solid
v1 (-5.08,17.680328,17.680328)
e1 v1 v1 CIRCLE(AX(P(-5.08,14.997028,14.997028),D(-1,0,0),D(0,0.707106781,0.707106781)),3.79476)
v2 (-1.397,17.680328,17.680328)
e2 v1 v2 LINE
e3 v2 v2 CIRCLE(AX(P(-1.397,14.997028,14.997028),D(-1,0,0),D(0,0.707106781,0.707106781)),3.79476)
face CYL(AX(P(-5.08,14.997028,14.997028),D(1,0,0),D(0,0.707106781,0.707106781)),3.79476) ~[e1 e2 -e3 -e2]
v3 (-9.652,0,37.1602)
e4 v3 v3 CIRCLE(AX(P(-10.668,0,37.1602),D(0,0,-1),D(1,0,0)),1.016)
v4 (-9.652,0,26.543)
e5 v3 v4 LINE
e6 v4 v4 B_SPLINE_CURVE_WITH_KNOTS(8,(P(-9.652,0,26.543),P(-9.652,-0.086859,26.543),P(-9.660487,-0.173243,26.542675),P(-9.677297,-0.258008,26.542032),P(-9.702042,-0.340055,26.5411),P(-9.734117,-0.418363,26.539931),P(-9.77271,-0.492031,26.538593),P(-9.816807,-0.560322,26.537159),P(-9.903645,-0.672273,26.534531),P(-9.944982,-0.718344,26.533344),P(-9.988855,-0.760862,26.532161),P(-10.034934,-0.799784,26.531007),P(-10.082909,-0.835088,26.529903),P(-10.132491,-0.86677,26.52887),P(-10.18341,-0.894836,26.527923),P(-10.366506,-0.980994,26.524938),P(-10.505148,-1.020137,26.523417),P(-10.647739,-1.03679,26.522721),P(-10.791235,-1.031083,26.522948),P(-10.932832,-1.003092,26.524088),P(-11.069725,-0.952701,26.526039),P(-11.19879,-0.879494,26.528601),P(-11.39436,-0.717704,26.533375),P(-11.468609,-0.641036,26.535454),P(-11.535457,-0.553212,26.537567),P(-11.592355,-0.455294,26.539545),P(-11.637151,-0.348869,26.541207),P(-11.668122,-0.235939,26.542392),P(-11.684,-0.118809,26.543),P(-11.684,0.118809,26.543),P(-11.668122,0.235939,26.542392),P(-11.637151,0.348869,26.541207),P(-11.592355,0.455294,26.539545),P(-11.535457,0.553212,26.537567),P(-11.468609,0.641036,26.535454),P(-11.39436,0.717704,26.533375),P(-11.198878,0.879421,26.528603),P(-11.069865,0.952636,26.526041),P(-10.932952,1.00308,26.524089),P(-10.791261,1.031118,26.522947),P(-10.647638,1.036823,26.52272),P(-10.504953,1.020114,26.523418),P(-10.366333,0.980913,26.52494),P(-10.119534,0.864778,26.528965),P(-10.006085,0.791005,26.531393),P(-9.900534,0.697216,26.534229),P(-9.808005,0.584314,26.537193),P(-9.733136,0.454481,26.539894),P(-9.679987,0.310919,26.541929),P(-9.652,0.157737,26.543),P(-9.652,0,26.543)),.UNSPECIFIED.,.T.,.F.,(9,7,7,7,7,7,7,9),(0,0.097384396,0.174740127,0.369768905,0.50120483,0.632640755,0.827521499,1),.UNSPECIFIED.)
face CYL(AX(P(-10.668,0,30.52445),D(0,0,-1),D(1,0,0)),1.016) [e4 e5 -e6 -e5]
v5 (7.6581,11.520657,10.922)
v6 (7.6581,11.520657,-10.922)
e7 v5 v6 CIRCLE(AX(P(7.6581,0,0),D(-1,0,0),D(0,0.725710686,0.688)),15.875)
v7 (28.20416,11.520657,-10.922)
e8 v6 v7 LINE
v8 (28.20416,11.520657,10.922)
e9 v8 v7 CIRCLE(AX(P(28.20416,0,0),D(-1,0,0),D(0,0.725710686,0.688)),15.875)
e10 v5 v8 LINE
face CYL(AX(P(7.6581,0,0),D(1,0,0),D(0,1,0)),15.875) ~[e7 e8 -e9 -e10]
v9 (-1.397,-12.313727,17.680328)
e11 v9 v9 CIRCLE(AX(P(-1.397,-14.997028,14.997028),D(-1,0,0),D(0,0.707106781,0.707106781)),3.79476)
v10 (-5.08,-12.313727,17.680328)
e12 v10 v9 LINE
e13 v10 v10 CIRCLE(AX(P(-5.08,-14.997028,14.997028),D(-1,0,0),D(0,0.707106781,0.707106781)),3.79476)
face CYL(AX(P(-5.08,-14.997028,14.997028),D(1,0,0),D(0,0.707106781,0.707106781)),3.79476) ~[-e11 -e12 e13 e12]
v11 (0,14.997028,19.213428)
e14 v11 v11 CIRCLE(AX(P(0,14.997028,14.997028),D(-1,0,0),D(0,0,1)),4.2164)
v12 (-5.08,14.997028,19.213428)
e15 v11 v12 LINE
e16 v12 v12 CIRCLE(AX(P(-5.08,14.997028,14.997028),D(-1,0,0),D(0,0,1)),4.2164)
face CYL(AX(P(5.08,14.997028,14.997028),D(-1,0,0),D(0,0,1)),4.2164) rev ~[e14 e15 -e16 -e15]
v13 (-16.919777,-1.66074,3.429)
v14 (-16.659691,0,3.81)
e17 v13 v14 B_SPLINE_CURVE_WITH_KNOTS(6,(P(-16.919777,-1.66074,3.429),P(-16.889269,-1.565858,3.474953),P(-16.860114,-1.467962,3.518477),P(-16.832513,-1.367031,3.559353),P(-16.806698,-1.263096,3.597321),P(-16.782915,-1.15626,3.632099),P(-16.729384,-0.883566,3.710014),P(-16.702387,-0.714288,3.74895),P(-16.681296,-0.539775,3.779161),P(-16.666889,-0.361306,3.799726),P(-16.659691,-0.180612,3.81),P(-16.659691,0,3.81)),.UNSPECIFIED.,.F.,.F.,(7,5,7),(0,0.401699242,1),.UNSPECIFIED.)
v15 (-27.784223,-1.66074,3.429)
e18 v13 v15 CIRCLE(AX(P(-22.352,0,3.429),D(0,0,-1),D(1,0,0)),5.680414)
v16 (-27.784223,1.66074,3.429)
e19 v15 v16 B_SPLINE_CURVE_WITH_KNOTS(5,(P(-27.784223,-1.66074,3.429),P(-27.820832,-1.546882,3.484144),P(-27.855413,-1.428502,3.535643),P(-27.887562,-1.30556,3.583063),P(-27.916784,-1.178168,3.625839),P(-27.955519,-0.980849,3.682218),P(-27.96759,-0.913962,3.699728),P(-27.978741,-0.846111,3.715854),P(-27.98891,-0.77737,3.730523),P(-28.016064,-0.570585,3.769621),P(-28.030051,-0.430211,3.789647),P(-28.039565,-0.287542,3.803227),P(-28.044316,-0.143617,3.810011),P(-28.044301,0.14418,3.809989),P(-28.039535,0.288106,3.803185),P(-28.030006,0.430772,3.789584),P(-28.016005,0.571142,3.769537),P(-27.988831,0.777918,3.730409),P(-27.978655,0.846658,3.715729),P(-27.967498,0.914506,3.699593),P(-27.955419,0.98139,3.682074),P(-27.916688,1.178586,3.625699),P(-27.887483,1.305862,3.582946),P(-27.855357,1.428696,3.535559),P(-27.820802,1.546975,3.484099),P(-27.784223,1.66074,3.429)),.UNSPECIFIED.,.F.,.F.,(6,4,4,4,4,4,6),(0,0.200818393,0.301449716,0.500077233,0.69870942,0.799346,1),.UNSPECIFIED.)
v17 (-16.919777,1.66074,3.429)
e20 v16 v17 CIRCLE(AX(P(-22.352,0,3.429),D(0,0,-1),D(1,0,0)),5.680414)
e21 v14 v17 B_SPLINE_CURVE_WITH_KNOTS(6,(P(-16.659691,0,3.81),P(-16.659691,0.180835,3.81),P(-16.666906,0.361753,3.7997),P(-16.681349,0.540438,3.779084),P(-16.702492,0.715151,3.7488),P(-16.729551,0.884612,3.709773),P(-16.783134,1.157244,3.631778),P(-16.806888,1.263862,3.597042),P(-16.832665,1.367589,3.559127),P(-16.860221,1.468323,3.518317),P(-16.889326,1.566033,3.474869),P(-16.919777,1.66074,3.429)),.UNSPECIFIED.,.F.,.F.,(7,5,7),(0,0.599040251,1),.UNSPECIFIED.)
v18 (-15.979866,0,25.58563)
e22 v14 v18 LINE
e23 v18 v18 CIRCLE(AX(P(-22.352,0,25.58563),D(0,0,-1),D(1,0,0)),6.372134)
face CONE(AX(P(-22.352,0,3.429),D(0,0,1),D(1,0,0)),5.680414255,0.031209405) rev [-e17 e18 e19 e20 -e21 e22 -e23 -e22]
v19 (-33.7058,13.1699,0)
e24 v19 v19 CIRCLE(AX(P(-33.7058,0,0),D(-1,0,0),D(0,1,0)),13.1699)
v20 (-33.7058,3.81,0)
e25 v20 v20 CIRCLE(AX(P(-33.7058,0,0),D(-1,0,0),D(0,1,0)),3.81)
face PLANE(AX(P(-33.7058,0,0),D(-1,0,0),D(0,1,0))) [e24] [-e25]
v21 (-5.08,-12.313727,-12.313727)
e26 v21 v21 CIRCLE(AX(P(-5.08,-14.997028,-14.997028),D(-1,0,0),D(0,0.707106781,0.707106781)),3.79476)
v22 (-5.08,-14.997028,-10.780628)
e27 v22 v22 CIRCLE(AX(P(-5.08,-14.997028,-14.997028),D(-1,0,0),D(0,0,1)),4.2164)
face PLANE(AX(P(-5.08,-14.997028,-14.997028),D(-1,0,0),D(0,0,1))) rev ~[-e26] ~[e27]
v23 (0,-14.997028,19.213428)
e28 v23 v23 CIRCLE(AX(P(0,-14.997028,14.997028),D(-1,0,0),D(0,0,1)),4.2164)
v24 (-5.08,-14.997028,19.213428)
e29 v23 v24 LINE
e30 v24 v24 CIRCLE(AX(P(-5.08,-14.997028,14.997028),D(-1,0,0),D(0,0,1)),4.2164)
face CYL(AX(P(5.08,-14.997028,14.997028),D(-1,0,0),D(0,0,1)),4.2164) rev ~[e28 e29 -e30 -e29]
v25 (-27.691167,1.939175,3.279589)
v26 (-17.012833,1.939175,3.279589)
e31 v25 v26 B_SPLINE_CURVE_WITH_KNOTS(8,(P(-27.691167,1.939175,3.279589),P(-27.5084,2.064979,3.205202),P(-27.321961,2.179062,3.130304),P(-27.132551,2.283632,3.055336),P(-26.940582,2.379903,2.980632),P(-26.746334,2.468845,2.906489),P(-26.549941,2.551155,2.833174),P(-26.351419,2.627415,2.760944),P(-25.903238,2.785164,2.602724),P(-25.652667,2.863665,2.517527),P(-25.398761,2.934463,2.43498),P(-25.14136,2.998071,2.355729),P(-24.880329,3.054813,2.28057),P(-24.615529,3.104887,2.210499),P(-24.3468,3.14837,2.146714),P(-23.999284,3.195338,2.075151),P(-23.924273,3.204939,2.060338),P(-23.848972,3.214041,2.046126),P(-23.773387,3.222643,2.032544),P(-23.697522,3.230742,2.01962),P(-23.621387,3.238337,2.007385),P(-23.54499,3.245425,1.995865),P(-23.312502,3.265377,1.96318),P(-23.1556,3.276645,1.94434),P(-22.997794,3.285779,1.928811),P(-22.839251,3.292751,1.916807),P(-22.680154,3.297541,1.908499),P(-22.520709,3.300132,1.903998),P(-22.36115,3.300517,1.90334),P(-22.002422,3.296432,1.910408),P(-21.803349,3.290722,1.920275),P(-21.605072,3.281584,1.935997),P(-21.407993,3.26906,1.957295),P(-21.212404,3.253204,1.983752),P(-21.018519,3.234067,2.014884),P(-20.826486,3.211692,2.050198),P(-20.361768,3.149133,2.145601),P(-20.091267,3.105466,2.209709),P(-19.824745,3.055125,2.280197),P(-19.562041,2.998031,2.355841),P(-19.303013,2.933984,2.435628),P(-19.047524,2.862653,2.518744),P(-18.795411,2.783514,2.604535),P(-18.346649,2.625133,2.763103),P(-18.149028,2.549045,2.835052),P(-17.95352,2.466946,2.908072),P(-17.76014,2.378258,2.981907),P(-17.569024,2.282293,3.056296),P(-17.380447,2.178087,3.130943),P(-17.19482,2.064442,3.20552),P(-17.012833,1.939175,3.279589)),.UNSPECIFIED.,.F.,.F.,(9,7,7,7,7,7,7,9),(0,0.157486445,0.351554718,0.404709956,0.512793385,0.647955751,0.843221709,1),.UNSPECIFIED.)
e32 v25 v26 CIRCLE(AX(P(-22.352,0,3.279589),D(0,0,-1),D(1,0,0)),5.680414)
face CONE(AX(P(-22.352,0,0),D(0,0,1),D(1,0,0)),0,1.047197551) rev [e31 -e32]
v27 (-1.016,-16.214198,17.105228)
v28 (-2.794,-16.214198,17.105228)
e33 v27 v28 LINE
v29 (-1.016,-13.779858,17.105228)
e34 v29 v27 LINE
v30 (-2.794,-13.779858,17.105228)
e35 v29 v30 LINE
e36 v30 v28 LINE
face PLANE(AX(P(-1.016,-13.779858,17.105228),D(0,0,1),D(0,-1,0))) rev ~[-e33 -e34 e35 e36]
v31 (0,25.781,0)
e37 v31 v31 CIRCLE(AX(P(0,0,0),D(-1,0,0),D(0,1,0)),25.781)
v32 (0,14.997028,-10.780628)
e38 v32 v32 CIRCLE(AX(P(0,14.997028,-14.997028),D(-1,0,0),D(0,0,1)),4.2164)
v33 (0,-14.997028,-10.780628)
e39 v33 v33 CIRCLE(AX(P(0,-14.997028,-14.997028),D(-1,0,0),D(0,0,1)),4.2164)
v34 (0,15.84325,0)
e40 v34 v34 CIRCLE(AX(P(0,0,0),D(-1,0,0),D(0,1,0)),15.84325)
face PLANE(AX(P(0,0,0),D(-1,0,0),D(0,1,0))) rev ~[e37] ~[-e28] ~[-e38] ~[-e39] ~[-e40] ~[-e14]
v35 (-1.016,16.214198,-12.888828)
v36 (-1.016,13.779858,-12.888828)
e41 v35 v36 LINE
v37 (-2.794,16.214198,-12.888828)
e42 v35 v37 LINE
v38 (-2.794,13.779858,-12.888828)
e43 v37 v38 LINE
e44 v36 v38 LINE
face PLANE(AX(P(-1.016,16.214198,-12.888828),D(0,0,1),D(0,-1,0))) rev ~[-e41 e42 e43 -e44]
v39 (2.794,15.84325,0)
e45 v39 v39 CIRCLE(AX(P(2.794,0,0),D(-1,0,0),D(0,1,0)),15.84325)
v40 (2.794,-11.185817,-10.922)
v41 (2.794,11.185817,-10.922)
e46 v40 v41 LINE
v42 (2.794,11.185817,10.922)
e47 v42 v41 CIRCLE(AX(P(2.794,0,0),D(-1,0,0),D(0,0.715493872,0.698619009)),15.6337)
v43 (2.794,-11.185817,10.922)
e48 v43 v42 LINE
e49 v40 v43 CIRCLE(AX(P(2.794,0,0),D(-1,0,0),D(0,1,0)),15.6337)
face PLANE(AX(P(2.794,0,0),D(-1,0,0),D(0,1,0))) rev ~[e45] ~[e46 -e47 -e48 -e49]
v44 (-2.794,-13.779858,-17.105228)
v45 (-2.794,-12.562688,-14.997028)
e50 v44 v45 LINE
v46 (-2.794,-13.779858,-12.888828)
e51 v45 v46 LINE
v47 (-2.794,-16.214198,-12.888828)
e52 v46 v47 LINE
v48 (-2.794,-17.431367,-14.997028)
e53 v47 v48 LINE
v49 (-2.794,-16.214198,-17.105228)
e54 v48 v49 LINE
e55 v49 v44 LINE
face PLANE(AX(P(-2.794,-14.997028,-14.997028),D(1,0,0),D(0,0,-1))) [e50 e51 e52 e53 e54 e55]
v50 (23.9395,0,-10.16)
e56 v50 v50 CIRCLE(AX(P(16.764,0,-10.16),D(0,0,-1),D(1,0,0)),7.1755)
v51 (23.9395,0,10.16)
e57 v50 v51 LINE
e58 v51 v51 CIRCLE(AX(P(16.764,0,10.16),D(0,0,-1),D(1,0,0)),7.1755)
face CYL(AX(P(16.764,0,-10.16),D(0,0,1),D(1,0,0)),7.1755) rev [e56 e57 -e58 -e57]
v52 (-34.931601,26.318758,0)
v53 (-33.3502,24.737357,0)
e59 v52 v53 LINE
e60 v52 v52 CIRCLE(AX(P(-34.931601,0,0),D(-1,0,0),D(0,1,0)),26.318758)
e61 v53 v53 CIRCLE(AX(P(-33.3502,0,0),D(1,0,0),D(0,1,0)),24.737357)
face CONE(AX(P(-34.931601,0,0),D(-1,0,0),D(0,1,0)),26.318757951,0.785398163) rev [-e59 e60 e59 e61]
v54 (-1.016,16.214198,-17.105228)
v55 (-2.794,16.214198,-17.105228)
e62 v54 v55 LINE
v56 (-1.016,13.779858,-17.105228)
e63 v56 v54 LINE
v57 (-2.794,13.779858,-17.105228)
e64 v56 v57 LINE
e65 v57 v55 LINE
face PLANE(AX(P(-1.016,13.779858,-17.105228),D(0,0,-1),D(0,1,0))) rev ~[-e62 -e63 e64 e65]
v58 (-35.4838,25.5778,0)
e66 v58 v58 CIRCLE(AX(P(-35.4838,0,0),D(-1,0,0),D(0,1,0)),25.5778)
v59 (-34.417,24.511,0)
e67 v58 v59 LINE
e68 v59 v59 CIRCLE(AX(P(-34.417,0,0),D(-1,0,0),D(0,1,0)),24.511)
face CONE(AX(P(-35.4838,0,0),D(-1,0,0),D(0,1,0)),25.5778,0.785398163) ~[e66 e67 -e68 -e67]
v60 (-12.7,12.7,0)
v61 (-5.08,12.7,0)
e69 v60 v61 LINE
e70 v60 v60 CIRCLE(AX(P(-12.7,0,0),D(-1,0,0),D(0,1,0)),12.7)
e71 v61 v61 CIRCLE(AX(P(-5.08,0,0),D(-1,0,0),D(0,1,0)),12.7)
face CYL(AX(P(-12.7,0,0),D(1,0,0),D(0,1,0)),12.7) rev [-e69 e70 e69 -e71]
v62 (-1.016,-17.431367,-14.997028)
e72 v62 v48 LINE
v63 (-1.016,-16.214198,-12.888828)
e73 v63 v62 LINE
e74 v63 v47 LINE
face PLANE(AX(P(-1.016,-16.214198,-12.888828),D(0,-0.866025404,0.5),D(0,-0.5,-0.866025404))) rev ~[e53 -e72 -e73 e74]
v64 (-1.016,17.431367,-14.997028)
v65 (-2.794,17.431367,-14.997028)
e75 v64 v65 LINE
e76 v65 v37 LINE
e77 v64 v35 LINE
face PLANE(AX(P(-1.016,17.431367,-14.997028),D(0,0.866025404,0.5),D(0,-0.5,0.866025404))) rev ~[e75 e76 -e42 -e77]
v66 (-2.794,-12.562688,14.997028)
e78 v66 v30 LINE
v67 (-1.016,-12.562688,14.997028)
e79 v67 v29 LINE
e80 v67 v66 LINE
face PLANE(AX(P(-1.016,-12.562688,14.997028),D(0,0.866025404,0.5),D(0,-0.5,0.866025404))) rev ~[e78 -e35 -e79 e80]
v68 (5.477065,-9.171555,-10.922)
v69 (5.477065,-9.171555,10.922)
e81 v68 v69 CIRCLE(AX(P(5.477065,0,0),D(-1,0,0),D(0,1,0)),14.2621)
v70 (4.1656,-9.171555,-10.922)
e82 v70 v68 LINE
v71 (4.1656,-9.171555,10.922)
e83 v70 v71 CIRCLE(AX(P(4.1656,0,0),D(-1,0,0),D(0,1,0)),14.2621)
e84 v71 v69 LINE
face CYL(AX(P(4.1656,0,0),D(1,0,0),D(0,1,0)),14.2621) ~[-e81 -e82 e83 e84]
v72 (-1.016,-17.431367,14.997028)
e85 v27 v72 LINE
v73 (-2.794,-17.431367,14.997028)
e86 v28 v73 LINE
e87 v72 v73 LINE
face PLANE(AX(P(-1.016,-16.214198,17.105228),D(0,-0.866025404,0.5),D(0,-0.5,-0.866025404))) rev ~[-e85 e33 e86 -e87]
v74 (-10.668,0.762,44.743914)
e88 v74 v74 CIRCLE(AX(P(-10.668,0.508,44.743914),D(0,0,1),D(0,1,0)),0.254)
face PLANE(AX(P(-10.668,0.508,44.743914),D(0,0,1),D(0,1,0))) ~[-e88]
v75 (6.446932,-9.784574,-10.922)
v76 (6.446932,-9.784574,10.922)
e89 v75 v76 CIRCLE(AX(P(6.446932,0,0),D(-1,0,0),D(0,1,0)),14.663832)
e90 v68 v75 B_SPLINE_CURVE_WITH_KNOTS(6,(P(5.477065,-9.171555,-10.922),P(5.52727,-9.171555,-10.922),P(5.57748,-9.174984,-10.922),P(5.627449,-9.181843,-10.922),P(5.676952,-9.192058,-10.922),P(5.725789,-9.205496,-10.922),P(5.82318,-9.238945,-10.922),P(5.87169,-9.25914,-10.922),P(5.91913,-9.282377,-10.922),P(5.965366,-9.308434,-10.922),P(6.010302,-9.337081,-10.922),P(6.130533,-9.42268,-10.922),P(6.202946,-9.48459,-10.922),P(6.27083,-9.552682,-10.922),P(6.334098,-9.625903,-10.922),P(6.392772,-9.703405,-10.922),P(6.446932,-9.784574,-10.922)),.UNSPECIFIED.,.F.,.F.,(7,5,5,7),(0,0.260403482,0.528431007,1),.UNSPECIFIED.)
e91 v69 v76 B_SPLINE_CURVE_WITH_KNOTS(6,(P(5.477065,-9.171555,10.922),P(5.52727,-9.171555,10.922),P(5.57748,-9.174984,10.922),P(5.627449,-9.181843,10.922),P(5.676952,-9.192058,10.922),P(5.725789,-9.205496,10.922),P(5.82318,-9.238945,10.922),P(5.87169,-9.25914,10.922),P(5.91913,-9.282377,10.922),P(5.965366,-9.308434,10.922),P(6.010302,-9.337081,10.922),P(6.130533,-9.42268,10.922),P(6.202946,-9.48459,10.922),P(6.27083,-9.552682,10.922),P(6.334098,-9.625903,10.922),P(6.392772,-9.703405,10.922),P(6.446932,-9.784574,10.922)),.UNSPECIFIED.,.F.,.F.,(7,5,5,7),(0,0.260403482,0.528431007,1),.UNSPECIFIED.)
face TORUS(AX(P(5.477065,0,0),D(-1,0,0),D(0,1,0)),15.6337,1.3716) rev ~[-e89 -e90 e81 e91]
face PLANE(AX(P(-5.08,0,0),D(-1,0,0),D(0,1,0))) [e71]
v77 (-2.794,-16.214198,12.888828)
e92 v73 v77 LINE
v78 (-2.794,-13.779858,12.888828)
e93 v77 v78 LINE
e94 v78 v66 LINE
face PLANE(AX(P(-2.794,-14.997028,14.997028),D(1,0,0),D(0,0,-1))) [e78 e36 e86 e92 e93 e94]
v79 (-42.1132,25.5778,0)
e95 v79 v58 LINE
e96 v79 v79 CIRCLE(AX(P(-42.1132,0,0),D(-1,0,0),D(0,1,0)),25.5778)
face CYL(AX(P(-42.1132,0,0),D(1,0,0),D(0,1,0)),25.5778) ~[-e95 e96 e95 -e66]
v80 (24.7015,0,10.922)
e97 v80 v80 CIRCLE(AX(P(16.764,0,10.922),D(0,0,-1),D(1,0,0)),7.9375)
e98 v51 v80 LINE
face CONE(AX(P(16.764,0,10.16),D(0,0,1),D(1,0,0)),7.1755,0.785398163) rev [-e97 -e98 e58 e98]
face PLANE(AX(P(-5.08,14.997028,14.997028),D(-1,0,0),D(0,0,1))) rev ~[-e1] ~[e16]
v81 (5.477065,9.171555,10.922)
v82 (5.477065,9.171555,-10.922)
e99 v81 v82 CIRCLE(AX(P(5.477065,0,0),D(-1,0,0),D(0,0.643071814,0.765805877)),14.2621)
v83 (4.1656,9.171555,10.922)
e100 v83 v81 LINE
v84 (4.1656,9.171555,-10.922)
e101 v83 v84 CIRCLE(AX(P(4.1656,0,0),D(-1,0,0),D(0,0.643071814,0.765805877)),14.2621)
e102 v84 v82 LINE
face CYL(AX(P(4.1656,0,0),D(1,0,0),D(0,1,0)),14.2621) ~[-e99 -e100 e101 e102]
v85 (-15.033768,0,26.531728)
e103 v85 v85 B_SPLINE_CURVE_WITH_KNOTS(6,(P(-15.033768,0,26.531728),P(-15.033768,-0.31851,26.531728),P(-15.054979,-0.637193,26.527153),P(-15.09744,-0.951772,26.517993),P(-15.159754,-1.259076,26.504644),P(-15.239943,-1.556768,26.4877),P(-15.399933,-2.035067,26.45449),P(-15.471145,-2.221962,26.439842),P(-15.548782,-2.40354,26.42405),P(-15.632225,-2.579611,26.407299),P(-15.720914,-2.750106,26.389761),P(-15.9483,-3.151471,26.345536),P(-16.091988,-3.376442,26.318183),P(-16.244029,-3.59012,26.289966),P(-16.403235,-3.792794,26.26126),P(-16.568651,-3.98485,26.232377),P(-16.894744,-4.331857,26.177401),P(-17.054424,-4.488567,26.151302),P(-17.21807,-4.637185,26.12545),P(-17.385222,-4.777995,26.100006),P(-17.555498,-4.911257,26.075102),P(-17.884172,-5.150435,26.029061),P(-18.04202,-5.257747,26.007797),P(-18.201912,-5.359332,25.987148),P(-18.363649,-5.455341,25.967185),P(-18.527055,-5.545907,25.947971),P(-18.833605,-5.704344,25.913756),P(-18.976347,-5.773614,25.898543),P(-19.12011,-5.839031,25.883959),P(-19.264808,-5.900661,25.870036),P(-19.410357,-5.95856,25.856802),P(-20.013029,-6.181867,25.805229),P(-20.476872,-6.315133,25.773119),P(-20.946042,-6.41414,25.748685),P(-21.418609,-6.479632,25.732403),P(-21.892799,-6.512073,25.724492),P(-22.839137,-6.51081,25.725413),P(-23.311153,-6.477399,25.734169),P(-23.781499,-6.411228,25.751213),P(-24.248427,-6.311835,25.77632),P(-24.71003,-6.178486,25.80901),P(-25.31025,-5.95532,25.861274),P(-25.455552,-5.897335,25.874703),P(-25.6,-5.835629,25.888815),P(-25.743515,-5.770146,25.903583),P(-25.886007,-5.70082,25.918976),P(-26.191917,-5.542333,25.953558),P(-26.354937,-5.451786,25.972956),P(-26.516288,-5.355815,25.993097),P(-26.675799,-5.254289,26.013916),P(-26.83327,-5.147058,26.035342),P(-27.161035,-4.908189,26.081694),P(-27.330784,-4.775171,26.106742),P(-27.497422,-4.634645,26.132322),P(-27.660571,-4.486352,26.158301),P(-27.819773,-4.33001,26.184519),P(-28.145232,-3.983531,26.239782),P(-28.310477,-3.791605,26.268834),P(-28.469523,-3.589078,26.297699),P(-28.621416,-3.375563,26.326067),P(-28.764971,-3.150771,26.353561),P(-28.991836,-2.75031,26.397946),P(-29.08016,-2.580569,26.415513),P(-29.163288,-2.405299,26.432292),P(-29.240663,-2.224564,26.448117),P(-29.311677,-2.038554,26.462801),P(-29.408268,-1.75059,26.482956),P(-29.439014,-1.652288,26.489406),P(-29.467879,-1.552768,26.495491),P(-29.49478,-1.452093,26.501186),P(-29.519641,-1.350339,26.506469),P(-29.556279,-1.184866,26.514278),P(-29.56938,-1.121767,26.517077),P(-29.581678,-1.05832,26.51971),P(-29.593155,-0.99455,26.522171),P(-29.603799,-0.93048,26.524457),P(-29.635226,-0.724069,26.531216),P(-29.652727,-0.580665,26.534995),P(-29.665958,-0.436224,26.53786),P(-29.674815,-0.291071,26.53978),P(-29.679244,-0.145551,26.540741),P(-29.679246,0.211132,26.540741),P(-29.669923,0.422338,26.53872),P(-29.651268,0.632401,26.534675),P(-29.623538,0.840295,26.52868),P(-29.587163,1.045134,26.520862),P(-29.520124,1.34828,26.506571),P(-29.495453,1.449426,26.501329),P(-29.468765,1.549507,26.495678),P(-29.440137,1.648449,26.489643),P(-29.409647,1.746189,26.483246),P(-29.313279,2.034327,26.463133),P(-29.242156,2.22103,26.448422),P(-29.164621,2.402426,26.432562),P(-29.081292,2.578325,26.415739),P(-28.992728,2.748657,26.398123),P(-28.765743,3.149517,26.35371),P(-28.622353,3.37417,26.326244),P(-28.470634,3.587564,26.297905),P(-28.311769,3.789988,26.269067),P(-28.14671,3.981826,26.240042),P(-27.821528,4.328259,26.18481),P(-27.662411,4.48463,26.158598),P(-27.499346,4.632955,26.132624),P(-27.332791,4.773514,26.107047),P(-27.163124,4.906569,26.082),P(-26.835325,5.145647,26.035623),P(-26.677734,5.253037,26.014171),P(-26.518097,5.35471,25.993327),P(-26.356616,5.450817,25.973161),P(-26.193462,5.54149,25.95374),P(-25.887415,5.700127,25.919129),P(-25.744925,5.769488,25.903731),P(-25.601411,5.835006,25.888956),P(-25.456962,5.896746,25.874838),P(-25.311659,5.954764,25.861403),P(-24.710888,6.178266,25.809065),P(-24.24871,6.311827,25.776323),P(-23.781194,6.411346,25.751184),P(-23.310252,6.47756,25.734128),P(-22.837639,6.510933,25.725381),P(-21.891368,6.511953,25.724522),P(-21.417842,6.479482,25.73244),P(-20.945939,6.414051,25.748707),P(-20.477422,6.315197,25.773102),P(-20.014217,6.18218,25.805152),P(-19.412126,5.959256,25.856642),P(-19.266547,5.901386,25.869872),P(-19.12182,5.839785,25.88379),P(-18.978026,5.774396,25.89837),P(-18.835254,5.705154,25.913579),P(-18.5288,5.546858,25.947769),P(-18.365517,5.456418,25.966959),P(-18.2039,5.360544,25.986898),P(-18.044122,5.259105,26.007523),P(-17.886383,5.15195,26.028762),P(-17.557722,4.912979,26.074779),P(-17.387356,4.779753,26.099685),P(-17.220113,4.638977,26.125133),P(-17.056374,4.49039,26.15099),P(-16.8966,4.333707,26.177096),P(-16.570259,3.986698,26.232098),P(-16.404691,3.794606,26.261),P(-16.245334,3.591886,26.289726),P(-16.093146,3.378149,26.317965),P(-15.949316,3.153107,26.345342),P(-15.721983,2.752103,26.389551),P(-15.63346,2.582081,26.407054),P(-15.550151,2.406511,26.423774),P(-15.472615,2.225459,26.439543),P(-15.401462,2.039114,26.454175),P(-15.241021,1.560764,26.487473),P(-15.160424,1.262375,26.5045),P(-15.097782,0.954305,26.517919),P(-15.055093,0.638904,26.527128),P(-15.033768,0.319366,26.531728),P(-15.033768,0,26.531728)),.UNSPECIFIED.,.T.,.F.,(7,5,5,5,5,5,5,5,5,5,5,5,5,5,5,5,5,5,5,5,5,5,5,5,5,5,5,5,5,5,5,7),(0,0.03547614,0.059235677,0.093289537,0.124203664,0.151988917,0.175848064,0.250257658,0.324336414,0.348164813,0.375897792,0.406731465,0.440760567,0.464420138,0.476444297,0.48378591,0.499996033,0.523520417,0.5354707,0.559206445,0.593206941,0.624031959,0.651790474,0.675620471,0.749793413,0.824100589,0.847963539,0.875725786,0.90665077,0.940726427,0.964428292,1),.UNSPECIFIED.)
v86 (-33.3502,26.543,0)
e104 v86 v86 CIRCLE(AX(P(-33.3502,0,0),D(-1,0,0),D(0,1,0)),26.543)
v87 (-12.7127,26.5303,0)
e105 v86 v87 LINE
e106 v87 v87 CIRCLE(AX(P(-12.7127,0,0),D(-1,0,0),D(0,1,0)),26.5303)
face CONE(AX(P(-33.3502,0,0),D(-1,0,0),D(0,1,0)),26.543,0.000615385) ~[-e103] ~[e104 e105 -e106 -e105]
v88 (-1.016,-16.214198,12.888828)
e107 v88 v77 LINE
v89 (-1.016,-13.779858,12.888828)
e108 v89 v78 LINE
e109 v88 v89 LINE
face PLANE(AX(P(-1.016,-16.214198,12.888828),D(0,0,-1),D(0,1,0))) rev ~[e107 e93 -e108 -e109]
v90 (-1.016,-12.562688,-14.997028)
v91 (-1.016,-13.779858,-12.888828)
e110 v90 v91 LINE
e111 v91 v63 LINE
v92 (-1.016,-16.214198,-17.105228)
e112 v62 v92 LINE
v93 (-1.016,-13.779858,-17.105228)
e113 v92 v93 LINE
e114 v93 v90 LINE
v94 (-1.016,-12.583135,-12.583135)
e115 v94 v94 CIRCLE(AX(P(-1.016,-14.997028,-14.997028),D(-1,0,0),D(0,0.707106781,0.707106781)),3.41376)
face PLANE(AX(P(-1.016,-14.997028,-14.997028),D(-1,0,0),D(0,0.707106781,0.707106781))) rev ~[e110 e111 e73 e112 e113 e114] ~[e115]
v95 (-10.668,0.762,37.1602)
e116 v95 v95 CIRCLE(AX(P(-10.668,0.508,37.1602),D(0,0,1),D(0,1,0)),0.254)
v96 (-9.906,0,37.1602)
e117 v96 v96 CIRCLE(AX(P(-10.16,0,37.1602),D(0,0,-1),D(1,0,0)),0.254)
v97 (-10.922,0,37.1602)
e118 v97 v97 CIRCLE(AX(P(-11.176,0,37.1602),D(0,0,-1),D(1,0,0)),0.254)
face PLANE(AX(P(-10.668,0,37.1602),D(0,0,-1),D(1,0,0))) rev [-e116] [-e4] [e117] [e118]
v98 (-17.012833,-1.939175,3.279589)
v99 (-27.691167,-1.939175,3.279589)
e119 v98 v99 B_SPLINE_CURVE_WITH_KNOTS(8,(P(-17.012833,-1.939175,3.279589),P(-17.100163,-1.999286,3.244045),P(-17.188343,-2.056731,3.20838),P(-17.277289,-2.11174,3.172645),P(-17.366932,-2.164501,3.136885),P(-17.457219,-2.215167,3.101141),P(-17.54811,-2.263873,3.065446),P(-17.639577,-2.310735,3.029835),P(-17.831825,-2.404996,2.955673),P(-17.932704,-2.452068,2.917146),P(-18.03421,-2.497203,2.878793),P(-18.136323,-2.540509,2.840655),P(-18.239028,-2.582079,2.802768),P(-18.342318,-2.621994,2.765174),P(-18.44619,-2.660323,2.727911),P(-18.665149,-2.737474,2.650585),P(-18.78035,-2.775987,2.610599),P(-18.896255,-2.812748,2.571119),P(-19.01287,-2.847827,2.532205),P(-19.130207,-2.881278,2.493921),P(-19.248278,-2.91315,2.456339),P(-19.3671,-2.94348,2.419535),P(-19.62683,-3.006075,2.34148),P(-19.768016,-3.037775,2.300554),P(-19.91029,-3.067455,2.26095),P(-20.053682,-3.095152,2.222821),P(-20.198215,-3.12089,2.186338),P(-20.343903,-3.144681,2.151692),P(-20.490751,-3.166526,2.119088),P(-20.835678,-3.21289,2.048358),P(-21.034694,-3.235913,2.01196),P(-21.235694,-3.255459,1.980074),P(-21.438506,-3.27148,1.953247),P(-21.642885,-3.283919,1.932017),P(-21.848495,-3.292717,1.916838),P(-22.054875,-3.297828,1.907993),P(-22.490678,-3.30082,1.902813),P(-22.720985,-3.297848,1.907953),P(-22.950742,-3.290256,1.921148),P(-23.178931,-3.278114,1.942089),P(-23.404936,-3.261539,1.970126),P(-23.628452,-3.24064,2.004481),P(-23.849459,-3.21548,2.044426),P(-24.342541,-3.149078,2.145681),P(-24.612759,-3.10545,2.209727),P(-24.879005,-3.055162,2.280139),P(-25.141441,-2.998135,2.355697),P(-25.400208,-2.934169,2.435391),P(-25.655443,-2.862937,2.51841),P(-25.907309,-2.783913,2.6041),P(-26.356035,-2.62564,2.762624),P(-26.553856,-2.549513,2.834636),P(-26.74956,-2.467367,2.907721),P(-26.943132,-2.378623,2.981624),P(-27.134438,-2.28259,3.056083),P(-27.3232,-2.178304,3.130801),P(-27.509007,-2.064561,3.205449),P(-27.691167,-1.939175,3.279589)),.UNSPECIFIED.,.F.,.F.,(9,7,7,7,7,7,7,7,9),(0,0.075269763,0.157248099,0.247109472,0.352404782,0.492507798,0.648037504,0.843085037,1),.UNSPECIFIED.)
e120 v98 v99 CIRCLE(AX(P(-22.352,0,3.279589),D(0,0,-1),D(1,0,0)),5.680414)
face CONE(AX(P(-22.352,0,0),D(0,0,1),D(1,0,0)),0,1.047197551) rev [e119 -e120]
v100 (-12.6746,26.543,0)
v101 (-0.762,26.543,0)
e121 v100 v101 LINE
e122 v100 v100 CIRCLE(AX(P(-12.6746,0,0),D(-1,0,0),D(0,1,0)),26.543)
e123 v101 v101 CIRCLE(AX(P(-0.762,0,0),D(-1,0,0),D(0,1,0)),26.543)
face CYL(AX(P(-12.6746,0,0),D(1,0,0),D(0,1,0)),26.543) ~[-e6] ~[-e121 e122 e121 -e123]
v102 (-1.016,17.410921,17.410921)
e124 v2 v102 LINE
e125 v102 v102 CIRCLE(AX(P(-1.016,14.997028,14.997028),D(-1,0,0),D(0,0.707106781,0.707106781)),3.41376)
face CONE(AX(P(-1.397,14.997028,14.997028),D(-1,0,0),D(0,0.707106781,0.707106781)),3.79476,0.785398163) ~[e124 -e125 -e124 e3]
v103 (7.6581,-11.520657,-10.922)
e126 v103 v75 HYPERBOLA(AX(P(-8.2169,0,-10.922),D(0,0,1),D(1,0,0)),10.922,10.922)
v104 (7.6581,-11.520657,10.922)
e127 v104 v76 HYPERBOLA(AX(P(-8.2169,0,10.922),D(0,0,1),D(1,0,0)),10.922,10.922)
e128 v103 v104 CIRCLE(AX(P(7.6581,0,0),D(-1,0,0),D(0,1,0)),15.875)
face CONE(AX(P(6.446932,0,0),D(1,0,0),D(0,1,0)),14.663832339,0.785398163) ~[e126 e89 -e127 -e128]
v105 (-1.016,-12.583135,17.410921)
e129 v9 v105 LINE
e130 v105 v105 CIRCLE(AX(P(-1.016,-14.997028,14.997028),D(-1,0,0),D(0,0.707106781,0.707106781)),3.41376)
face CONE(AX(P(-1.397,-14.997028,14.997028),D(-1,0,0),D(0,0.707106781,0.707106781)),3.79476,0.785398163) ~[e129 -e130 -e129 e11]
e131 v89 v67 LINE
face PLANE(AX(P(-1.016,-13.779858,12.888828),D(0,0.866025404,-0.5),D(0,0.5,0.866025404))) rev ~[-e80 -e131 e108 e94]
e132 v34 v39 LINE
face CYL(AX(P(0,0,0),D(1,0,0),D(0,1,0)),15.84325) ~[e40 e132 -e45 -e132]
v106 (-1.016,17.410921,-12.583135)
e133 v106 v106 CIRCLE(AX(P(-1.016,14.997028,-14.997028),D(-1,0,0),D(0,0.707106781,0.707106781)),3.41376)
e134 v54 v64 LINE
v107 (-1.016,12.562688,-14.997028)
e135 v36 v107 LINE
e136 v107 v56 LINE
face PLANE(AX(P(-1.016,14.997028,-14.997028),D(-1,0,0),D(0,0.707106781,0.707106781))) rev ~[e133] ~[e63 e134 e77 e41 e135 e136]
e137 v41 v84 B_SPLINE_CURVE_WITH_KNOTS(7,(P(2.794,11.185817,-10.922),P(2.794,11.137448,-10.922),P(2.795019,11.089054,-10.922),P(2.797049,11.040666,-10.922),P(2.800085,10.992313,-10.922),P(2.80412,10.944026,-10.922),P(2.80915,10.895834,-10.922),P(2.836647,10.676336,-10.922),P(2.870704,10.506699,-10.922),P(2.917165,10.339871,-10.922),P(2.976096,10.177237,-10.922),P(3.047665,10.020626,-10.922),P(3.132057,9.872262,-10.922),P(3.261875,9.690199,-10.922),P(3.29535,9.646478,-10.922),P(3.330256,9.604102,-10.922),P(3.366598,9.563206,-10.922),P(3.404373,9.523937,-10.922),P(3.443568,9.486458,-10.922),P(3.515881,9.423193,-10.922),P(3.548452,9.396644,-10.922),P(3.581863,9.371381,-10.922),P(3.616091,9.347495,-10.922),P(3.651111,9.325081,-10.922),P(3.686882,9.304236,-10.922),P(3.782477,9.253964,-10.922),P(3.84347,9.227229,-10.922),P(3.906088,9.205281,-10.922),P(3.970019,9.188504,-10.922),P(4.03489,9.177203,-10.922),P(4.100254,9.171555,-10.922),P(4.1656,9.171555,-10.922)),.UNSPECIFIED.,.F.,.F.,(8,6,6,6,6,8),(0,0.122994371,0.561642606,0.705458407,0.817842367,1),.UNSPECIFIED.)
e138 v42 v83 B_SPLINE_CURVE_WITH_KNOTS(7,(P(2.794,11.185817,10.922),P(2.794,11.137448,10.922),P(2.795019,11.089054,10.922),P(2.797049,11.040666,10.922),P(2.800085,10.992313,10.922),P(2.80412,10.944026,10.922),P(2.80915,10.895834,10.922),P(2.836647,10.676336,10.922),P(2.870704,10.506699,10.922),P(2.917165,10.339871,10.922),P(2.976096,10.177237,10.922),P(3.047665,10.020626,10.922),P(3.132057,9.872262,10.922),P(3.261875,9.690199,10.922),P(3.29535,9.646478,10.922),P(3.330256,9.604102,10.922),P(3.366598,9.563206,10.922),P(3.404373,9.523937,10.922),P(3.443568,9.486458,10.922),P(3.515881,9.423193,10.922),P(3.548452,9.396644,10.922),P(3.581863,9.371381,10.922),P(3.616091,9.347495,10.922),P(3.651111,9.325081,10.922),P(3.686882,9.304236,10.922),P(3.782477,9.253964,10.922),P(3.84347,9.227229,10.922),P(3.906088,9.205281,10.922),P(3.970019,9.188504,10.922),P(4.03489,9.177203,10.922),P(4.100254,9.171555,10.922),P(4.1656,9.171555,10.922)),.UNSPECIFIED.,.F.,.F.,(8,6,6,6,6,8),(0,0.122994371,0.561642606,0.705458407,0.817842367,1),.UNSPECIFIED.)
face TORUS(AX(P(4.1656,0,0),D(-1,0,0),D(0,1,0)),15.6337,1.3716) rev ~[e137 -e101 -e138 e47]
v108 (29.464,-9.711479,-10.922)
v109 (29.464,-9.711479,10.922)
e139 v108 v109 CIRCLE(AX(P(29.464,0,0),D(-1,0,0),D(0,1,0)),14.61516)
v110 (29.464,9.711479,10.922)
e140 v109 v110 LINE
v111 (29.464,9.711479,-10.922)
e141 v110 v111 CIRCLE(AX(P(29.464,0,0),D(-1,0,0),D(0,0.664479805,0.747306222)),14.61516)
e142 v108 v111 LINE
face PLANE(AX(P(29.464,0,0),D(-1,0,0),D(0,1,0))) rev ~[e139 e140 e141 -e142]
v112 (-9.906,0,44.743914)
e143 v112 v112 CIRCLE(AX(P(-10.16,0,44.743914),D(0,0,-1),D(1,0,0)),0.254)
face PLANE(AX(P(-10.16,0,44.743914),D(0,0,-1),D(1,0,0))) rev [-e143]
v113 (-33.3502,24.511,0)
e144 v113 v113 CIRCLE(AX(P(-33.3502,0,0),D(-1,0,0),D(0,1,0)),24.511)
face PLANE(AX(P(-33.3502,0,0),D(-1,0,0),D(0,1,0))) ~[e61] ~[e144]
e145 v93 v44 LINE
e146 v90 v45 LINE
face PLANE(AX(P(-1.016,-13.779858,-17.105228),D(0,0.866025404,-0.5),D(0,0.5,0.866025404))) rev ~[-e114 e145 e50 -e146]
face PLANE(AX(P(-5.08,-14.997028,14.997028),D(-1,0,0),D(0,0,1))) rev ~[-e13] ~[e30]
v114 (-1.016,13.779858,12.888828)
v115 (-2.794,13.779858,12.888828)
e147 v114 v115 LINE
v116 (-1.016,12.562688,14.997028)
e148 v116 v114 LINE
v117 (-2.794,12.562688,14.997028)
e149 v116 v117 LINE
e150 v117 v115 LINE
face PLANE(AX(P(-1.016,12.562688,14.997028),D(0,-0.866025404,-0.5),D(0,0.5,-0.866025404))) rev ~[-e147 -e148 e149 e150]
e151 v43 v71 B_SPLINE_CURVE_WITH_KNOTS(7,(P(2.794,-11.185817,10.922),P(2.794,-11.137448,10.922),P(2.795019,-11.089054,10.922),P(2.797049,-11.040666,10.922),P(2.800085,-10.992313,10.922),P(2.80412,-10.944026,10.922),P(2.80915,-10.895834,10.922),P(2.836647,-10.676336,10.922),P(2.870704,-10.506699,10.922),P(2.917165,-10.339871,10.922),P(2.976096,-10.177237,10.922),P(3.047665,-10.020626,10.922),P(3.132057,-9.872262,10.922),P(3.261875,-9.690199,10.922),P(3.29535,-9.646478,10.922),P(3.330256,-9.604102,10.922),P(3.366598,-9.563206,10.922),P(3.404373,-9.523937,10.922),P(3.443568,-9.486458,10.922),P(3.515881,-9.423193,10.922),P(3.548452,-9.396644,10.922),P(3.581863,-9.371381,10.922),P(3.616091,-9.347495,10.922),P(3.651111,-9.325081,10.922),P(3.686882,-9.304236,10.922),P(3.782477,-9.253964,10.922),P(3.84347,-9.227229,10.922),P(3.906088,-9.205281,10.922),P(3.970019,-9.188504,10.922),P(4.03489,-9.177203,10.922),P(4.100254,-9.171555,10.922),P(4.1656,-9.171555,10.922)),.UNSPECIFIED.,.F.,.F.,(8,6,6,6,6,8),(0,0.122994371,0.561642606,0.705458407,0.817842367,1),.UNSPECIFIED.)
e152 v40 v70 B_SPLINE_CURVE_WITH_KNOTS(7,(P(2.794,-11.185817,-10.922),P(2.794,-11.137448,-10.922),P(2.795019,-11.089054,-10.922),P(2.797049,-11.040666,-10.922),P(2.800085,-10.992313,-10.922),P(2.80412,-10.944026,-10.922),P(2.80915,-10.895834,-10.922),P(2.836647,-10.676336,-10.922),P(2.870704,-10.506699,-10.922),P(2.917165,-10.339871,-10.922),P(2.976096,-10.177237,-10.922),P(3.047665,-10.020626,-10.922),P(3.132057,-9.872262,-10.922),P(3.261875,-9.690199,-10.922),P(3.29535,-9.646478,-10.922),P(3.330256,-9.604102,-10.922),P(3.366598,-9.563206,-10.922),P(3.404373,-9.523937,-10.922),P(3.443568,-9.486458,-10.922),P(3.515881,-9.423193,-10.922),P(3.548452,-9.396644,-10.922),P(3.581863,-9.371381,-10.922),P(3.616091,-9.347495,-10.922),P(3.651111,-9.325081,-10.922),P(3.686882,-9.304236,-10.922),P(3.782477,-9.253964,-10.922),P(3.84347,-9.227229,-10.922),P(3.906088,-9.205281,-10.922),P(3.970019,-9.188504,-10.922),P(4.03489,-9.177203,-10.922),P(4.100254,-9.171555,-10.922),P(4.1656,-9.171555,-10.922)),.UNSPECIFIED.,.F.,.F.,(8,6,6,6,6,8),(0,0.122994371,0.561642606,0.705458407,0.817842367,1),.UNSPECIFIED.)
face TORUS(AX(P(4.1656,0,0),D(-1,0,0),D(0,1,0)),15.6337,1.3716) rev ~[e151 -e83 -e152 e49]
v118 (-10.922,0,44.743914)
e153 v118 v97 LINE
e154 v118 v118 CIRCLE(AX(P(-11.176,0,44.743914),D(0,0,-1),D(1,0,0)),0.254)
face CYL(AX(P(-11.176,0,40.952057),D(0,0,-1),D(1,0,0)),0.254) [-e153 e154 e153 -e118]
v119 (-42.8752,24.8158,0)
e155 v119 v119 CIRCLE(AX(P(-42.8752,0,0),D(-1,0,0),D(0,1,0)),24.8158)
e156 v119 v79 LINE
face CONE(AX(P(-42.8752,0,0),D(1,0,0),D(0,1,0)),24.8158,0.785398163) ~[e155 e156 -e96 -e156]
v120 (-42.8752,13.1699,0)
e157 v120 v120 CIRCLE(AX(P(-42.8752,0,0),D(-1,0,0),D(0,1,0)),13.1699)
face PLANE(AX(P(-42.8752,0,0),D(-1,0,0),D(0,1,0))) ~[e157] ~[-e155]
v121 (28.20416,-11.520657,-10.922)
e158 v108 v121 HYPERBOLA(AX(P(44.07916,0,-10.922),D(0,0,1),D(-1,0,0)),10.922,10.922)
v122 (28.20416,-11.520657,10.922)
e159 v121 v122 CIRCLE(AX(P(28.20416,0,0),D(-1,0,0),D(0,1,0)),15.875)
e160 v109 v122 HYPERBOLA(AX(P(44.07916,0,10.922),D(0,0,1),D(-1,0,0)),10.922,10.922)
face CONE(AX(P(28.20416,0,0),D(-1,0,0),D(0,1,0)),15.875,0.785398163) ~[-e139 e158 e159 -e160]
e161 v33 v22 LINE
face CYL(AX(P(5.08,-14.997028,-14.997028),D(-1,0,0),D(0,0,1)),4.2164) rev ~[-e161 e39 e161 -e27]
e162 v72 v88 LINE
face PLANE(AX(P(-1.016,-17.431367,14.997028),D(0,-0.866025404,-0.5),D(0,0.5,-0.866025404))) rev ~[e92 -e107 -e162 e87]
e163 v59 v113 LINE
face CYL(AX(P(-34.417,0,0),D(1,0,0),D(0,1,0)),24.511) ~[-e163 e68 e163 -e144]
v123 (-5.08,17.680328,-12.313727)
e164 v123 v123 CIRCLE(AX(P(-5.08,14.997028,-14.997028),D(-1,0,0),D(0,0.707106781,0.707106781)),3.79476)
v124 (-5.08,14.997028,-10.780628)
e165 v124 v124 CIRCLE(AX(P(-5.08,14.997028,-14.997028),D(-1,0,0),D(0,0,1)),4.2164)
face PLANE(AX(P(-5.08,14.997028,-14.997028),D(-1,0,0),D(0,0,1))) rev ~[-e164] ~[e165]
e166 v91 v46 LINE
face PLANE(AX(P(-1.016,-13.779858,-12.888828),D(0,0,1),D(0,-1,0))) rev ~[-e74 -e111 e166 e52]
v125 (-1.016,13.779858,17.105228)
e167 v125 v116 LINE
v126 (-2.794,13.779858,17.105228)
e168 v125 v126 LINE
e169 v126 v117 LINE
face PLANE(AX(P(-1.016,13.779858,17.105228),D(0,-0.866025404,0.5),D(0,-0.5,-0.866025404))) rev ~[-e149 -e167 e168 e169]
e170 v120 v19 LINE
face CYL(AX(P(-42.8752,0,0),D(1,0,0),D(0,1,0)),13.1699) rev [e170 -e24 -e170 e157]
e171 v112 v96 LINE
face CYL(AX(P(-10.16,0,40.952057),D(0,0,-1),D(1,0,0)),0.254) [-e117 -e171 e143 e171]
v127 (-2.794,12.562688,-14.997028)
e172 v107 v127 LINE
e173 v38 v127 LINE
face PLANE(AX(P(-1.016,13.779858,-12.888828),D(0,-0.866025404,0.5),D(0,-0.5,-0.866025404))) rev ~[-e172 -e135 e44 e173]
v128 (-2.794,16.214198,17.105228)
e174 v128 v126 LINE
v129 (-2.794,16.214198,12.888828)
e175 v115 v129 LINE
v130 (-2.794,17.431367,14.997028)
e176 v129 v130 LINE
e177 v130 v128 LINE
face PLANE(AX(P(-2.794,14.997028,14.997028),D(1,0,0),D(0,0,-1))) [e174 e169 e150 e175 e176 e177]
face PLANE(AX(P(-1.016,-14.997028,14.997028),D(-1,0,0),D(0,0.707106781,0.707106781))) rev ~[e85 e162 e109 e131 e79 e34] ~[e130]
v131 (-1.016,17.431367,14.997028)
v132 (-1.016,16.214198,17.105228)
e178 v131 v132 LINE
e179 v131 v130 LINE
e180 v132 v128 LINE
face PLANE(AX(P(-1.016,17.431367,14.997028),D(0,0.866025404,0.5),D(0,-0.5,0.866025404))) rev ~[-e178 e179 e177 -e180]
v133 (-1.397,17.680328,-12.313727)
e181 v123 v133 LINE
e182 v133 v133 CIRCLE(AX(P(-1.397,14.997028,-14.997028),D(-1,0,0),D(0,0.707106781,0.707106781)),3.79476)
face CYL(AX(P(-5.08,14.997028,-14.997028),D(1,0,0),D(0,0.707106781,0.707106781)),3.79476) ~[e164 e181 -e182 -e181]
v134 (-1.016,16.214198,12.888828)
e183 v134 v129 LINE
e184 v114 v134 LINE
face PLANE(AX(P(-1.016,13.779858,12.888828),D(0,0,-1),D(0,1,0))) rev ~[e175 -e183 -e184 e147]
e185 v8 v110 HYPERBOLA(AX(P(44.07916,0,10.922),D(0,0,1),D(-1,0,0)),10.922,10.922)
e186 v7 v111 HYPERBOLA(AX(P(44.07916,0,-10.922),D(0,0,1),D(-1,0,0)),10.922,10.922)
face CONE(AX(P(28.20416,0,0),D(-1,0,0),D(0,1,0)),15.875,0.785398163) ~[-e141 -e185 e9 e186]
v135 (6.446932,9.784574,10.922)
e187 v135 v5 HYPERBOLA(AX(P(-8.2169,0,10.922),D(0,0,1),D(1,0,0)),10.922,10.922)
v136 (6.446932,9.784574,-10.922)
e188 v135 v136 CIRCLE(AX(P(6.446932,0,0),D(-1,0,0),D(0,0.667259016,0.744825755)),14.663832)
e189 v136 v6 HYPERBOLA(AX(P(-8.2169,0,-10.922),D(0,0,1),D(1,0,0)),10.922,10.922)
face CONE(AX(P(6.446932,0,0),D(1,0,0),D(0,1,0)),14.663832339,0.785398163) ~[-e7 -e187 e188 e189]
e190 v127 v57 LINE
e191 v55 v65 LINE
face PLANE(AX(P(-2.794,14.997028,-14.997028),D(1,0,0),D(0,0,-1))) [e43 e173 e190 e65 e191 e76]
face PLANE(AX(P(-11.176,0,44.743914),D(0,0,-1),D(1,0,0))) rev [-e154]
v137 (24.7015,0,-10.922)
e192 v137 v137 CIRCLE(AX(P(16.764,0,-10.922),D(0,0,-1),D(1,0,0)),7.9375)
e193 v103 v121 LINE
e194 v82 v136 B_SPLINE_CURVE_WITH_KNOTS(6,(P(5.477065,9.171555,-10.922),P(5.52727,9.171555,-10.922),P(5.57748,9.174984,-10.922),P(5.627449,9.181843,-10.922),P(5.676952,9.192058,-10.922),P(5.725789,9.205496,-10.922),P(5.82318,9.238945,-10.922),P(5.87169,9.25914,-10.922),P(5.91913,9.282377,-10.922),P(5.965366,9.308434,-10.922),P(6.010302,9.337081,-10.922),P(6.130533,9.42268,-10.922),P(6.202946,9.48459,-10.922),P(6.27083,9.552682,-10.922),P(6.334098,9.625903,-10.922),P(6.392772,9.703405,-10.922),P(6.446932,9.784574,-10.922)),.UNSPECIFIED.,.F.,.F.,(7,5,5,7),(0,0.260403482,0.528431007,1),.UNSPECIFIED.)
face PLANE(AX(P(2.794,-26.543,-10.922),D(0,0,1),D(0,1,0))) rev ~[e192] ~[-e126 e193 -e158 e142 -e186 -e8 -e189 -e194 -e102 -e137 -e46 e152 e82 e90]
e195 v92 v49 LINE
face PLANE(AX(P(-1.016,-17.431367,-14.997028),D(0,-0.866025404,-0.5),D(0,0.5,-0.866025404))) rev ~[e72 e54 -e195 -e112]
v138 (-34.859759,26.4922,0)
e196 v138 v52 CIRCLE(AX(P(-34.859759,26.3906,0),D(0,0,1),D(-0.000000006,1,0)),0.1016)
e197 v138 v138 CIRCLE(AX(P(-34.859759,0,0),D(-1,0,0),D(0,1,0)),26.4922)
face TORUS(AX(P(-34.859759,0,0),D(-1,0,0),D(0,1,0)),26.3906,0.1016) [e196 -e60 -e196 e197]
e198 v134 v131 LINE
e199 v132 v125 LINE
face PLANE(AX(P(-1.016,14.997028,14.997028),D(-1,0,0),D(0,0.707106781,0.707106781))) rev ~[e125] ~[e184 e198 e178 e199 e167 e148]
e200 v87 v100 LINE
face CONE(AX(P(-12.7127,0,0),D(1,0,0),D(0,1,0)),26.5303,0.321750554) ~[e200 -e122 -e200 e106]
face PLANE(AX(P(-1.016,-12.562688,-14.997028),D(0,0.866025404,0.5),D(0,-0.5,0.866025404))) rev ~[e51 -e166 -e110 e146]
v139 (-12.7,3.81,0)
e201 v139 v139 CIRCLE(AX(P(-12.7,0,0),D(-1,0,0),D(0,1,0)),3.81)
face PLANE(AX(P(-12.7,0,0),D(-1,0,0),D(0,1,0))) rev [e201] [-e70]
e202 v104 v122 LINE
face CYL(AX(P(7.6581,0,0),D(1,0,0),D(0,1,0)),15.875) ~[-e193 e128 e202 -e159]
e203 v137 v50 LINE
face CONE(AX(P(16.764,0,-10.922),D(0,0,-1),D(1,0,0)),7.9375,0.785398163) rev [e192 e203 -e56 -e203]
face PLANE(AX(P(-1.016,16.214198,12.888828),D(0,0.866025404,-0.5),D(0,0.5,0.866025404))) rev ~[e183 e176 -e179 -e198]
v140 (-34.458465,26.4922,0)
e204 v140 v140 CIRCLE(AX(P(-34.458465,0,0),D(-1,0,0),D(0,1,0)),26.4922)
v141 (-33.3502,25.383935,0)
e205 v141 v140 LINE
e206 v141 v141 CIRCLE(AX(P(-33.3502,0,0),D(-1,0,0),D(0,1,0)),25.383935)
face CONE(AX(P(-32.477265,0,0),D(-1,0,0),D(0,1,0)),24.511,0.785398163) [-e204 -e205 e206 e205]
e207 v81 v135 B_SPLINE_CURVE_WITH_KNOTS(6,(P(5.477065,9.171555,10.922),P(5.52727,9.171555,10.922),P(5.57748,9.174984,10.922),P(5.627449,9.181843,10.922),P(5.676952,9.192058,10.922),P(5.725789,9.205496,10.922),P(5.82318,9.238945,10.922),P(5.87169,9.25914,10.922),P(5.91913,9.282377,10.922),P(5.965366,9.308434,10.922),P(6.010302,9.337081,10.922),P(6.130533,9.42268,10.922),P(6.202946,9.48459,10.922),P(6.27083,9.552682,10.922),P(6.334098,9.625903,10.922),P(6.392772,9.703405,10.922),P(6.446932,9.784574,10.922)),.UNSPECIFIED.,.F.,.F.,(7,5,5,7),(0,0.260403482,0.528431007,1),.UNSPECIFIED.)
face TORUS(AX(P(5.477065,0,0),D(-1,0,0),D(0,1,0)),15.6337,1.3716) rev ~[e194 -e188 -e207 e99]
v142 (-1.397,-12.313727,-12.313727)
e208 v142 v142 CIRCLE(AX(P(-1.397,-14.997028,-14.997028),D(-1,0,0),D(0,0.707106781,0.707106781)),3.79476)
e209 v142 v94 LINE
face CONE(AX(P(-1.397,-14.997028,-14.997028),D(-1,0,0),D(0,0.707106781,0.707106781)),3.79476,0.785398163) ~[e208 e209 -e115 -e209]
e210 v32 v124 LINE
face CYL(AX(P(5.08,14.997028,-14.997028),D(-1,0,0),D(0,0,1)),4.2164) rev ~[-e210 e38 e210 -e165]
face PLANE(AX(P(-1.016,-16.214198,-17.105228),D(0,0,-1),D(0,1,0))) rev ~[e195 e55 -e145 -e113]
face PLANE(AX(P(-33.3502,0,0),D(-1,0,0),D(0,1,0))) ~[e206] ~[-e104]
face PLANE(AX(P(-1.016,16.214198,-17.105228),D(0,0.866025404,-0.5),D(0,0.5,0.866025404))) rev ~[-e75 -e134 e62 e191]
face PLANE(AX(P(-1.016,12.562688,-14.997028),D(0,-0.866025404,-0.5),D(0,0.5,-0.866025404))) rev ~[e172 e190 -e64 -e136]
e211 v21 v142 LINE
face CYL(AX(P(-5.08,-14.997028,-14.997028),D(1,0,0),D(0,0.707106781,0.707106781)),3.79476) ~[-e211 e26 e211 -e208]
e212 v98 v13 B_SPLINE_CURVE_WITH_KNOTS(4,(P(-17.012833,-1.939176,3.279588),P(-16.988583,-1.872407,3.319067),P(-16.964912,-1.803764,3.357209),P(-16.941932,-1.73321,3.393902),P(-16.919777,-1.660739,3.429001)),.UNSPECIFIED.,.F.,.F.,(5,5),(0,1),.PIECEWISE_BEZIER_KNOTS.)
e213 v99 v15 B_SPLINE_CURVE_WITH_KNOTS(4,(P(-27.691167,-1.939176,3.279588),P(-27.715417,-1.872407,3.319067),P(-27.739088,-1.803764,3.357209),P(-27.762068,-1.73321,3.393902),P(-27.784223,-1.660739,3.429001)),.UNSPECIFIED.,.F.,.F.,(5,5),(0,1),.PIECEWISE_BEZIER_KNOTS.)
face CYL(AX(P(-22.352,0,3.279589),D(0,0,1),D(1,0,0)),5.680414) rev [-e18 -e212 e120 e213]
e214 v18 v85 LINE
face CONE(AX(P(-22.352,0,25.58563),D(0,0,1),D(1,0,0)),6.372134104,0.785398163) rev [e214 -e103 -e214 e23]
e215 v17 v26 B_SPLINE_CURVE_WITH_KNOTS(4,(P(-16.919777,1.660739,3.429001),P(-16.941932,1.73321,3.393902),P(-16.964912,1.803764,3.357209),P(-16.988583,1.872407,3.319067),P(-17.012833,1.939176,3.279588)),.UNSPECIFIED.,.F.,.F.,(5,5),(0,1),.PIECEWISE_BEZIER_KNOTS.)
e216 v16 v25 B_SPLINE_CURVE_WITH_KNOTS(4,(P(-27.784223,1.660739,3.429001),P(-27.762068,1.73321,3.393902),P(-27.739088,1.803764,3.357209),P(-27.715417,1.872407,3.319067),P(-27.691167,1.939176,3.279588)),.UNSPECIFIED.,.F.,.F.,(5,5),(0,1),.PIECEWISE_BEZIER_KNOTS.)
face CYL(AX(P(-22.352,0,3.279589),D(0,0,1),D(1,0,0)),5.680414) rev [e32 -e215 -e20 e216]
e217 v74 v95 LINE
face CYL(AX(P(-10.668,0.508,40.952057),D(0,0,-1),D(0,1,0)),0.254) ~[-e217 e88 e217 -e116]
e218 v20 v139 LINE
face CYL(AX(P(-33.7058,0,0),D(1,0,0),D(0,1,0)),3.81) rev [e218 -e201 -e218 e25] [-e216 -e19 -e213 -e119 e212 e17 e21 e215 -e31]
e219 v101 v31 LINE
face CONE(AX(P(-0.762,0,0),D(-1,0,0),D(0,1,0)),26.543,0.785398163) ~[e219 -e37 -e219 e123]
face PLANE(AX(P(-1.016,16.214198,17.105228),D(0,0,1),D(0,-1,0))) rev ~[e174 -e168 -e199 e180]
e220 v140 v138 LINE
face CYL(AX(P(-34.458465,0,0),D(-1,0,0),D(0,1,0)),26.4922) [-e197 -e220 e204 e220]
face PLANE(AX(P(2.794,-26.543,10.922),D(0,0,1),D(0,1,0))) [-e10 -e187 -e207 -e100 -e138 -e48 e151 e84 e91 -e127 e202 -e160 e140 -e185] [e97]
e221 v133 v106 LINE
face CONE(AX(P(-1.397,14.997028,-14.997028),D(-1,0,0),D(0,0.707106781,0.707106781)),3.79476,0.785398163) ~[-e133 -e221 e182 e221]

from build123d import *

# Parameters (mm, degrees)
HOLE1_D              = 8.4328
HOLE1_DEPTH          = 5.08
LPATTERN1_COUNT      = 2
LPATTERN1_PITCH      = 29.994055444
LPATTERN1_COUNT_DIR2 = 2
LPATTERN1_PITCH_DIR2 = 29.994055444
LPATTERN2_COUNT      = 2
LPATTERN2_PITCH      = 29.994055444
LPATTERN2_COUNT_DIR2 = 2
LPATTERN2_PITCH_DIR2 = 29.994055444
CUT_EXTRUDE1_DEPTH   = 1.778
LPATTERN3_COUNT      = 2
LPATTERN3_PITCH      = 29.994055444
LPATTERN3_COUNT_DIR2 = 2
LPATTERN3_PITCH_DIR2 = 29.994055444
SKETCH10_W           = 1.016
SKETCH10_H           = 13.2715
SKETCH11_W           = 0.254
SKETCH11_H           = 7.583714286
SKETCH12_W           = 0.254
SKETCH12_H           = 7.583714286
SKETCH13_W           = 7.583714286
SKETCH13_H           = 0.254
SKETCH17_W           = 53.086
SKETCH17_H           = 106.172
SKETCH17_W_2         = 21.844
SKETCH17_H_2         = 53.086
CUT_EXTRUDE2_DEPTH   = 29.464


with BuildPart() as part:
    # Sketch1 → Revolve1 (revolve)
    with BuildSketch(Plane.XY):
        Polygon((-42.8752, 0), (-42.8752, 24.8158), (-42.1132, 25.5778), (-35.4838, 25.5778), (-34.417, 24.511), (-33.3502, 24.511), (-33.3502, 26.543), (-12.7127, 26.5303), (-12.6746, 26.543), (-0.762, 26.543), (0, 25.781), (0, 0), align=None)
    revolve(axis=Axis((0, 0, 0), (-1, 0, 0)))

    # Sketch2 → Revolve2 (revolve)
    with BuildSketch(Plane.XY):
        with BuildLine():
            Line((-34.93160107, 26.318757951), (-32.800553898, 24.18771078))
            Line((-32.800553898, 24.18771078), (-32.477264678, 24.511))
            Line((-32.477264678, 24.511), (-34.458464678, 26.4922))
            Line((-34.458464678, 26.4922), (-34.859759021, 26.4922))
            ThreePointArc((-34.859759021, 26.4922), (-34.953625181, 26.429480637), (-34.93160107, 26.318757951))
        make_face()
    revolve(axis=Axis((-34.458464678, 0, 0), (-1, 0, 0)))

    # Hole1
    with Locations(Plane(origin=(0, 0, 0), x_dir=(0, 0, -1), z_dir=(1, 0, 0))):
        with Locations((-14.997027722, 14.997027722)):
            hole1 = Hole(HOLE1_D / 2, depth=HOLE1_DEPTH)

    # LPattern1: Hole1 2 × 2
    with Locations(*[(0, -j * LPATTERN1_PITCH_DIR2, -i * LPATTERN1_PITCH) for i in range(LPATTERN1_COUNT) for j in range(LPATTERN1_COUNT_DIR2) if (i, j) != (0, 0)]):
        add(hole1, mode=Mode.SUBTRACT)

    # Sketch6 → Revolve3 (revolve)
    with BuildSketch(Plane(origin=(0, 0, 0), x_dir=(1, 0, 0), z_dir=(0, -0.7071067811865477, 0.7071067811865475))):
        Polygon((-5.08, 21.209), (-5.08, 25.00376), (-1.397, 25.00376), (-1.016, 24.62276), (-1.016, 21.209), align=None)
    revolve3 = revolve(axis=Axis((-1.016, 14.997027722, 14.997027722), (-1, 0, 0)))

    # LPattern2: Revolve3 2 × 2
    with Locations(*[(0, -j * LPATTERN2_PITCH_DIR2, -i * LPATTERN2_PITCH) for i in range(LPATTERN2_COUNT) for j in range(LPATTERN2_COUNT_DIR2) if (i, j) != (0, 0)]):
        add(revolve3)

    # Sketch8 → Cut-Extrude1 (cut)
    with BuildSketch(Plane(origin=(-1.016, 0, 0), x_dir=(0, 0, -1), z_dir=(1, 0, 0))):
        Polygon((-17.105227722, 16.21419756), (-17.105227722, 13.779857885), (-14.997027722, 12.562688047), (-12.888827722, 13.779857885), (-12.888827722, 16.21419756), (-14.997027722, 17.431367397), align=None)
    cut_extrude1 = extrude(amount=-CUT_EXTRUDE1_DEPTH, mode=Mode.SUBTRACT)

    # LPattern3: Cut-Extrude1 2 × 2
    with Locations(*[(0, -j * LPATTERN3_PITCH_DIR2, -i * LPATTERN3_PITCH) for i in range(LPATTERN3_COUNT) for j in range(LPATTERN3_COUNT_DIR2) if (i, j) != (0, 0)]):
        add(cut_extrude1, mode=Mode.SUBTRACT)

    # Sketch10 → Revolve4 (revolve)
    with BuildSketch(Plane(origin=(0, 0, 0), x_dir=(1, 0, 0), z_dir=(0, 1, 0))):
        with Locations((-10.16, -30.52445)):
            Rectangle(SKETCH10_W, SKETCH10_H)
    revolve(axis=Axis((-10.668, 0, 37.1602), (0, 0, -1)))

    # Sketch11 → Revolve5 (revolve)
    with BuildSketch(Plane(origin=(0, 0, 0), x_dir=(1, 0, 0), z_dir=(0, 1, 0))):
        with Locations((-11.049, -40.952057143)):
            Rectangle(SKETCH11_W, SKETCH11_H)
    revolve(axis=Axis((-11.176, 0, 44.743914286), (0, 0, -1)))

    # Sketch12 → Revolve6 (revolve)
    with BuildSketch(Plane(origin=(0, 0, 0), x_dir=(1, 0, 0), z_dir=(0, 1, 0))):
        with Locations((-10.033, -40.952057143)):
            Rectangle(SKETCH12_W, SKETCH12_H)
    revolve(axis=Axis((-10.16, 0, 44.743914286), (0, 0, -1)))

    # Sketch13 → Revolve7 (revolve)
    with BuildSketch(Plane(origin=(-10.668, 0, 0), x_dir=(0, 0, -1), z_dir=(1, 0, 0))):
        with Locations((-40.952057143, 0.635)):
            Rectangle(SKETCH13_W, SKETCH13_H)
    revolve(axis=Axis((-10.668, 0.508, 37.1602), (0, 0, 1)))

    # Sketch14 → Cut-Revolve1 (revolve, cut)
    with BuildSketch(Plane.XY):
        Polygon((-42.8752, 0), (-42.8752, 13.1699), (-33.7058, 13.1699), (-33.7058, 3.81), (-12.7, 3.81), (-12.7, 12.7), (-5.08, 12.7), (-5.08, 0), align=None)
    revolve(axis=Axis((-5.08, 0, 0), (-1, 0, 0)), mode=Mode.SUBTRACT)

    # Sketch15 → Cut-Revolve2 (revolve, cut)
    with BuildSketch(Plane(origin=(0, 0, 0), x_dir=(1, 0, 0), z_dir=(0, 1, 0))):
        Polygon((-22.352, 0), (-16.671585745, -3.279588699), (-16.671585745, -3.429), (-15.979865896, -25.585630358), (-15.022496254, -26.543), (-22.352, -26.543), align=None)
    revolve(axis=Axis((-22.352, 0, 26.543), (0, 0, -1)), mode=Mode.SUBTRACT)

    # Sketch16 → Revolve8 (revolve)
    with BuildSketch(Plane.XY):
        with BuildLine():
            Line((0, 0), (0, 15.84325))
            Line((0, 15.84325), (2.794, 15.84325))
            Line((2.794, 15.84325), (2.794, 15.6337))
            ThreePointArc((2.794, 15.6337), (3.195732339, 14.663832339), (4.1656, 14.2621))
            Line((4.1656, 14.2621), (5.477064678, 14.2621))
            ThreePointArc((5.477064678, 14.2621), (6.001953274, 14.366506833), (6.446932339, 14.663832339))
            Line((6.446932339, 14.663832339), (7.6581, 15.875))
            Line((7.6581, 15.875), (28.20416, 15.875))
            Line((28.20416, 15.875), (29.464, 14.61516))
            Line((29.464, 14.61516), (29.464, 0))
            Line((29.464, 0), (0, 0))
        make_face()
    revolve(axis=Axis((29.464, 0, 0), (-1, 0, 0)))

    # Sketch17 → Cut-Extrude2 (cut)
    with BuildSketch(Plane(origin=(2.794, 0, 0), x_dir=(0, 0, -1), z_dir=(1, 0, 0))):
        Rectangle(SKETCH17_W, SKETCH17_H)
        Rectangle(SKETCH17_W_2, SKETCH17_H_2, mode=Mode.SUBTRACT)
    extrude(amount=CUT_EXTRUDE2_DEPTH, mode=Mode.SUBTRACT)

    # Sketch18 → Cut-Revolve3 (revolve, cut)
    with BuildSketch(Plane(origin=(0, 0, 0), x_dir=(1, 0, 0), z_dir=(0, 1, 0))):
        Polygon((16.764, 10.922), (24.7015, 10.922), (23.9395, 10.16), (23.9395, -10.16), (24.7015, -10.922), (16.764, -10.922), align=None)
    revolve(axis=Axis((16.764, 0, 10.922), (0, 0, -1)), mode=Mode.SUBTRACT)


solid = part.part
